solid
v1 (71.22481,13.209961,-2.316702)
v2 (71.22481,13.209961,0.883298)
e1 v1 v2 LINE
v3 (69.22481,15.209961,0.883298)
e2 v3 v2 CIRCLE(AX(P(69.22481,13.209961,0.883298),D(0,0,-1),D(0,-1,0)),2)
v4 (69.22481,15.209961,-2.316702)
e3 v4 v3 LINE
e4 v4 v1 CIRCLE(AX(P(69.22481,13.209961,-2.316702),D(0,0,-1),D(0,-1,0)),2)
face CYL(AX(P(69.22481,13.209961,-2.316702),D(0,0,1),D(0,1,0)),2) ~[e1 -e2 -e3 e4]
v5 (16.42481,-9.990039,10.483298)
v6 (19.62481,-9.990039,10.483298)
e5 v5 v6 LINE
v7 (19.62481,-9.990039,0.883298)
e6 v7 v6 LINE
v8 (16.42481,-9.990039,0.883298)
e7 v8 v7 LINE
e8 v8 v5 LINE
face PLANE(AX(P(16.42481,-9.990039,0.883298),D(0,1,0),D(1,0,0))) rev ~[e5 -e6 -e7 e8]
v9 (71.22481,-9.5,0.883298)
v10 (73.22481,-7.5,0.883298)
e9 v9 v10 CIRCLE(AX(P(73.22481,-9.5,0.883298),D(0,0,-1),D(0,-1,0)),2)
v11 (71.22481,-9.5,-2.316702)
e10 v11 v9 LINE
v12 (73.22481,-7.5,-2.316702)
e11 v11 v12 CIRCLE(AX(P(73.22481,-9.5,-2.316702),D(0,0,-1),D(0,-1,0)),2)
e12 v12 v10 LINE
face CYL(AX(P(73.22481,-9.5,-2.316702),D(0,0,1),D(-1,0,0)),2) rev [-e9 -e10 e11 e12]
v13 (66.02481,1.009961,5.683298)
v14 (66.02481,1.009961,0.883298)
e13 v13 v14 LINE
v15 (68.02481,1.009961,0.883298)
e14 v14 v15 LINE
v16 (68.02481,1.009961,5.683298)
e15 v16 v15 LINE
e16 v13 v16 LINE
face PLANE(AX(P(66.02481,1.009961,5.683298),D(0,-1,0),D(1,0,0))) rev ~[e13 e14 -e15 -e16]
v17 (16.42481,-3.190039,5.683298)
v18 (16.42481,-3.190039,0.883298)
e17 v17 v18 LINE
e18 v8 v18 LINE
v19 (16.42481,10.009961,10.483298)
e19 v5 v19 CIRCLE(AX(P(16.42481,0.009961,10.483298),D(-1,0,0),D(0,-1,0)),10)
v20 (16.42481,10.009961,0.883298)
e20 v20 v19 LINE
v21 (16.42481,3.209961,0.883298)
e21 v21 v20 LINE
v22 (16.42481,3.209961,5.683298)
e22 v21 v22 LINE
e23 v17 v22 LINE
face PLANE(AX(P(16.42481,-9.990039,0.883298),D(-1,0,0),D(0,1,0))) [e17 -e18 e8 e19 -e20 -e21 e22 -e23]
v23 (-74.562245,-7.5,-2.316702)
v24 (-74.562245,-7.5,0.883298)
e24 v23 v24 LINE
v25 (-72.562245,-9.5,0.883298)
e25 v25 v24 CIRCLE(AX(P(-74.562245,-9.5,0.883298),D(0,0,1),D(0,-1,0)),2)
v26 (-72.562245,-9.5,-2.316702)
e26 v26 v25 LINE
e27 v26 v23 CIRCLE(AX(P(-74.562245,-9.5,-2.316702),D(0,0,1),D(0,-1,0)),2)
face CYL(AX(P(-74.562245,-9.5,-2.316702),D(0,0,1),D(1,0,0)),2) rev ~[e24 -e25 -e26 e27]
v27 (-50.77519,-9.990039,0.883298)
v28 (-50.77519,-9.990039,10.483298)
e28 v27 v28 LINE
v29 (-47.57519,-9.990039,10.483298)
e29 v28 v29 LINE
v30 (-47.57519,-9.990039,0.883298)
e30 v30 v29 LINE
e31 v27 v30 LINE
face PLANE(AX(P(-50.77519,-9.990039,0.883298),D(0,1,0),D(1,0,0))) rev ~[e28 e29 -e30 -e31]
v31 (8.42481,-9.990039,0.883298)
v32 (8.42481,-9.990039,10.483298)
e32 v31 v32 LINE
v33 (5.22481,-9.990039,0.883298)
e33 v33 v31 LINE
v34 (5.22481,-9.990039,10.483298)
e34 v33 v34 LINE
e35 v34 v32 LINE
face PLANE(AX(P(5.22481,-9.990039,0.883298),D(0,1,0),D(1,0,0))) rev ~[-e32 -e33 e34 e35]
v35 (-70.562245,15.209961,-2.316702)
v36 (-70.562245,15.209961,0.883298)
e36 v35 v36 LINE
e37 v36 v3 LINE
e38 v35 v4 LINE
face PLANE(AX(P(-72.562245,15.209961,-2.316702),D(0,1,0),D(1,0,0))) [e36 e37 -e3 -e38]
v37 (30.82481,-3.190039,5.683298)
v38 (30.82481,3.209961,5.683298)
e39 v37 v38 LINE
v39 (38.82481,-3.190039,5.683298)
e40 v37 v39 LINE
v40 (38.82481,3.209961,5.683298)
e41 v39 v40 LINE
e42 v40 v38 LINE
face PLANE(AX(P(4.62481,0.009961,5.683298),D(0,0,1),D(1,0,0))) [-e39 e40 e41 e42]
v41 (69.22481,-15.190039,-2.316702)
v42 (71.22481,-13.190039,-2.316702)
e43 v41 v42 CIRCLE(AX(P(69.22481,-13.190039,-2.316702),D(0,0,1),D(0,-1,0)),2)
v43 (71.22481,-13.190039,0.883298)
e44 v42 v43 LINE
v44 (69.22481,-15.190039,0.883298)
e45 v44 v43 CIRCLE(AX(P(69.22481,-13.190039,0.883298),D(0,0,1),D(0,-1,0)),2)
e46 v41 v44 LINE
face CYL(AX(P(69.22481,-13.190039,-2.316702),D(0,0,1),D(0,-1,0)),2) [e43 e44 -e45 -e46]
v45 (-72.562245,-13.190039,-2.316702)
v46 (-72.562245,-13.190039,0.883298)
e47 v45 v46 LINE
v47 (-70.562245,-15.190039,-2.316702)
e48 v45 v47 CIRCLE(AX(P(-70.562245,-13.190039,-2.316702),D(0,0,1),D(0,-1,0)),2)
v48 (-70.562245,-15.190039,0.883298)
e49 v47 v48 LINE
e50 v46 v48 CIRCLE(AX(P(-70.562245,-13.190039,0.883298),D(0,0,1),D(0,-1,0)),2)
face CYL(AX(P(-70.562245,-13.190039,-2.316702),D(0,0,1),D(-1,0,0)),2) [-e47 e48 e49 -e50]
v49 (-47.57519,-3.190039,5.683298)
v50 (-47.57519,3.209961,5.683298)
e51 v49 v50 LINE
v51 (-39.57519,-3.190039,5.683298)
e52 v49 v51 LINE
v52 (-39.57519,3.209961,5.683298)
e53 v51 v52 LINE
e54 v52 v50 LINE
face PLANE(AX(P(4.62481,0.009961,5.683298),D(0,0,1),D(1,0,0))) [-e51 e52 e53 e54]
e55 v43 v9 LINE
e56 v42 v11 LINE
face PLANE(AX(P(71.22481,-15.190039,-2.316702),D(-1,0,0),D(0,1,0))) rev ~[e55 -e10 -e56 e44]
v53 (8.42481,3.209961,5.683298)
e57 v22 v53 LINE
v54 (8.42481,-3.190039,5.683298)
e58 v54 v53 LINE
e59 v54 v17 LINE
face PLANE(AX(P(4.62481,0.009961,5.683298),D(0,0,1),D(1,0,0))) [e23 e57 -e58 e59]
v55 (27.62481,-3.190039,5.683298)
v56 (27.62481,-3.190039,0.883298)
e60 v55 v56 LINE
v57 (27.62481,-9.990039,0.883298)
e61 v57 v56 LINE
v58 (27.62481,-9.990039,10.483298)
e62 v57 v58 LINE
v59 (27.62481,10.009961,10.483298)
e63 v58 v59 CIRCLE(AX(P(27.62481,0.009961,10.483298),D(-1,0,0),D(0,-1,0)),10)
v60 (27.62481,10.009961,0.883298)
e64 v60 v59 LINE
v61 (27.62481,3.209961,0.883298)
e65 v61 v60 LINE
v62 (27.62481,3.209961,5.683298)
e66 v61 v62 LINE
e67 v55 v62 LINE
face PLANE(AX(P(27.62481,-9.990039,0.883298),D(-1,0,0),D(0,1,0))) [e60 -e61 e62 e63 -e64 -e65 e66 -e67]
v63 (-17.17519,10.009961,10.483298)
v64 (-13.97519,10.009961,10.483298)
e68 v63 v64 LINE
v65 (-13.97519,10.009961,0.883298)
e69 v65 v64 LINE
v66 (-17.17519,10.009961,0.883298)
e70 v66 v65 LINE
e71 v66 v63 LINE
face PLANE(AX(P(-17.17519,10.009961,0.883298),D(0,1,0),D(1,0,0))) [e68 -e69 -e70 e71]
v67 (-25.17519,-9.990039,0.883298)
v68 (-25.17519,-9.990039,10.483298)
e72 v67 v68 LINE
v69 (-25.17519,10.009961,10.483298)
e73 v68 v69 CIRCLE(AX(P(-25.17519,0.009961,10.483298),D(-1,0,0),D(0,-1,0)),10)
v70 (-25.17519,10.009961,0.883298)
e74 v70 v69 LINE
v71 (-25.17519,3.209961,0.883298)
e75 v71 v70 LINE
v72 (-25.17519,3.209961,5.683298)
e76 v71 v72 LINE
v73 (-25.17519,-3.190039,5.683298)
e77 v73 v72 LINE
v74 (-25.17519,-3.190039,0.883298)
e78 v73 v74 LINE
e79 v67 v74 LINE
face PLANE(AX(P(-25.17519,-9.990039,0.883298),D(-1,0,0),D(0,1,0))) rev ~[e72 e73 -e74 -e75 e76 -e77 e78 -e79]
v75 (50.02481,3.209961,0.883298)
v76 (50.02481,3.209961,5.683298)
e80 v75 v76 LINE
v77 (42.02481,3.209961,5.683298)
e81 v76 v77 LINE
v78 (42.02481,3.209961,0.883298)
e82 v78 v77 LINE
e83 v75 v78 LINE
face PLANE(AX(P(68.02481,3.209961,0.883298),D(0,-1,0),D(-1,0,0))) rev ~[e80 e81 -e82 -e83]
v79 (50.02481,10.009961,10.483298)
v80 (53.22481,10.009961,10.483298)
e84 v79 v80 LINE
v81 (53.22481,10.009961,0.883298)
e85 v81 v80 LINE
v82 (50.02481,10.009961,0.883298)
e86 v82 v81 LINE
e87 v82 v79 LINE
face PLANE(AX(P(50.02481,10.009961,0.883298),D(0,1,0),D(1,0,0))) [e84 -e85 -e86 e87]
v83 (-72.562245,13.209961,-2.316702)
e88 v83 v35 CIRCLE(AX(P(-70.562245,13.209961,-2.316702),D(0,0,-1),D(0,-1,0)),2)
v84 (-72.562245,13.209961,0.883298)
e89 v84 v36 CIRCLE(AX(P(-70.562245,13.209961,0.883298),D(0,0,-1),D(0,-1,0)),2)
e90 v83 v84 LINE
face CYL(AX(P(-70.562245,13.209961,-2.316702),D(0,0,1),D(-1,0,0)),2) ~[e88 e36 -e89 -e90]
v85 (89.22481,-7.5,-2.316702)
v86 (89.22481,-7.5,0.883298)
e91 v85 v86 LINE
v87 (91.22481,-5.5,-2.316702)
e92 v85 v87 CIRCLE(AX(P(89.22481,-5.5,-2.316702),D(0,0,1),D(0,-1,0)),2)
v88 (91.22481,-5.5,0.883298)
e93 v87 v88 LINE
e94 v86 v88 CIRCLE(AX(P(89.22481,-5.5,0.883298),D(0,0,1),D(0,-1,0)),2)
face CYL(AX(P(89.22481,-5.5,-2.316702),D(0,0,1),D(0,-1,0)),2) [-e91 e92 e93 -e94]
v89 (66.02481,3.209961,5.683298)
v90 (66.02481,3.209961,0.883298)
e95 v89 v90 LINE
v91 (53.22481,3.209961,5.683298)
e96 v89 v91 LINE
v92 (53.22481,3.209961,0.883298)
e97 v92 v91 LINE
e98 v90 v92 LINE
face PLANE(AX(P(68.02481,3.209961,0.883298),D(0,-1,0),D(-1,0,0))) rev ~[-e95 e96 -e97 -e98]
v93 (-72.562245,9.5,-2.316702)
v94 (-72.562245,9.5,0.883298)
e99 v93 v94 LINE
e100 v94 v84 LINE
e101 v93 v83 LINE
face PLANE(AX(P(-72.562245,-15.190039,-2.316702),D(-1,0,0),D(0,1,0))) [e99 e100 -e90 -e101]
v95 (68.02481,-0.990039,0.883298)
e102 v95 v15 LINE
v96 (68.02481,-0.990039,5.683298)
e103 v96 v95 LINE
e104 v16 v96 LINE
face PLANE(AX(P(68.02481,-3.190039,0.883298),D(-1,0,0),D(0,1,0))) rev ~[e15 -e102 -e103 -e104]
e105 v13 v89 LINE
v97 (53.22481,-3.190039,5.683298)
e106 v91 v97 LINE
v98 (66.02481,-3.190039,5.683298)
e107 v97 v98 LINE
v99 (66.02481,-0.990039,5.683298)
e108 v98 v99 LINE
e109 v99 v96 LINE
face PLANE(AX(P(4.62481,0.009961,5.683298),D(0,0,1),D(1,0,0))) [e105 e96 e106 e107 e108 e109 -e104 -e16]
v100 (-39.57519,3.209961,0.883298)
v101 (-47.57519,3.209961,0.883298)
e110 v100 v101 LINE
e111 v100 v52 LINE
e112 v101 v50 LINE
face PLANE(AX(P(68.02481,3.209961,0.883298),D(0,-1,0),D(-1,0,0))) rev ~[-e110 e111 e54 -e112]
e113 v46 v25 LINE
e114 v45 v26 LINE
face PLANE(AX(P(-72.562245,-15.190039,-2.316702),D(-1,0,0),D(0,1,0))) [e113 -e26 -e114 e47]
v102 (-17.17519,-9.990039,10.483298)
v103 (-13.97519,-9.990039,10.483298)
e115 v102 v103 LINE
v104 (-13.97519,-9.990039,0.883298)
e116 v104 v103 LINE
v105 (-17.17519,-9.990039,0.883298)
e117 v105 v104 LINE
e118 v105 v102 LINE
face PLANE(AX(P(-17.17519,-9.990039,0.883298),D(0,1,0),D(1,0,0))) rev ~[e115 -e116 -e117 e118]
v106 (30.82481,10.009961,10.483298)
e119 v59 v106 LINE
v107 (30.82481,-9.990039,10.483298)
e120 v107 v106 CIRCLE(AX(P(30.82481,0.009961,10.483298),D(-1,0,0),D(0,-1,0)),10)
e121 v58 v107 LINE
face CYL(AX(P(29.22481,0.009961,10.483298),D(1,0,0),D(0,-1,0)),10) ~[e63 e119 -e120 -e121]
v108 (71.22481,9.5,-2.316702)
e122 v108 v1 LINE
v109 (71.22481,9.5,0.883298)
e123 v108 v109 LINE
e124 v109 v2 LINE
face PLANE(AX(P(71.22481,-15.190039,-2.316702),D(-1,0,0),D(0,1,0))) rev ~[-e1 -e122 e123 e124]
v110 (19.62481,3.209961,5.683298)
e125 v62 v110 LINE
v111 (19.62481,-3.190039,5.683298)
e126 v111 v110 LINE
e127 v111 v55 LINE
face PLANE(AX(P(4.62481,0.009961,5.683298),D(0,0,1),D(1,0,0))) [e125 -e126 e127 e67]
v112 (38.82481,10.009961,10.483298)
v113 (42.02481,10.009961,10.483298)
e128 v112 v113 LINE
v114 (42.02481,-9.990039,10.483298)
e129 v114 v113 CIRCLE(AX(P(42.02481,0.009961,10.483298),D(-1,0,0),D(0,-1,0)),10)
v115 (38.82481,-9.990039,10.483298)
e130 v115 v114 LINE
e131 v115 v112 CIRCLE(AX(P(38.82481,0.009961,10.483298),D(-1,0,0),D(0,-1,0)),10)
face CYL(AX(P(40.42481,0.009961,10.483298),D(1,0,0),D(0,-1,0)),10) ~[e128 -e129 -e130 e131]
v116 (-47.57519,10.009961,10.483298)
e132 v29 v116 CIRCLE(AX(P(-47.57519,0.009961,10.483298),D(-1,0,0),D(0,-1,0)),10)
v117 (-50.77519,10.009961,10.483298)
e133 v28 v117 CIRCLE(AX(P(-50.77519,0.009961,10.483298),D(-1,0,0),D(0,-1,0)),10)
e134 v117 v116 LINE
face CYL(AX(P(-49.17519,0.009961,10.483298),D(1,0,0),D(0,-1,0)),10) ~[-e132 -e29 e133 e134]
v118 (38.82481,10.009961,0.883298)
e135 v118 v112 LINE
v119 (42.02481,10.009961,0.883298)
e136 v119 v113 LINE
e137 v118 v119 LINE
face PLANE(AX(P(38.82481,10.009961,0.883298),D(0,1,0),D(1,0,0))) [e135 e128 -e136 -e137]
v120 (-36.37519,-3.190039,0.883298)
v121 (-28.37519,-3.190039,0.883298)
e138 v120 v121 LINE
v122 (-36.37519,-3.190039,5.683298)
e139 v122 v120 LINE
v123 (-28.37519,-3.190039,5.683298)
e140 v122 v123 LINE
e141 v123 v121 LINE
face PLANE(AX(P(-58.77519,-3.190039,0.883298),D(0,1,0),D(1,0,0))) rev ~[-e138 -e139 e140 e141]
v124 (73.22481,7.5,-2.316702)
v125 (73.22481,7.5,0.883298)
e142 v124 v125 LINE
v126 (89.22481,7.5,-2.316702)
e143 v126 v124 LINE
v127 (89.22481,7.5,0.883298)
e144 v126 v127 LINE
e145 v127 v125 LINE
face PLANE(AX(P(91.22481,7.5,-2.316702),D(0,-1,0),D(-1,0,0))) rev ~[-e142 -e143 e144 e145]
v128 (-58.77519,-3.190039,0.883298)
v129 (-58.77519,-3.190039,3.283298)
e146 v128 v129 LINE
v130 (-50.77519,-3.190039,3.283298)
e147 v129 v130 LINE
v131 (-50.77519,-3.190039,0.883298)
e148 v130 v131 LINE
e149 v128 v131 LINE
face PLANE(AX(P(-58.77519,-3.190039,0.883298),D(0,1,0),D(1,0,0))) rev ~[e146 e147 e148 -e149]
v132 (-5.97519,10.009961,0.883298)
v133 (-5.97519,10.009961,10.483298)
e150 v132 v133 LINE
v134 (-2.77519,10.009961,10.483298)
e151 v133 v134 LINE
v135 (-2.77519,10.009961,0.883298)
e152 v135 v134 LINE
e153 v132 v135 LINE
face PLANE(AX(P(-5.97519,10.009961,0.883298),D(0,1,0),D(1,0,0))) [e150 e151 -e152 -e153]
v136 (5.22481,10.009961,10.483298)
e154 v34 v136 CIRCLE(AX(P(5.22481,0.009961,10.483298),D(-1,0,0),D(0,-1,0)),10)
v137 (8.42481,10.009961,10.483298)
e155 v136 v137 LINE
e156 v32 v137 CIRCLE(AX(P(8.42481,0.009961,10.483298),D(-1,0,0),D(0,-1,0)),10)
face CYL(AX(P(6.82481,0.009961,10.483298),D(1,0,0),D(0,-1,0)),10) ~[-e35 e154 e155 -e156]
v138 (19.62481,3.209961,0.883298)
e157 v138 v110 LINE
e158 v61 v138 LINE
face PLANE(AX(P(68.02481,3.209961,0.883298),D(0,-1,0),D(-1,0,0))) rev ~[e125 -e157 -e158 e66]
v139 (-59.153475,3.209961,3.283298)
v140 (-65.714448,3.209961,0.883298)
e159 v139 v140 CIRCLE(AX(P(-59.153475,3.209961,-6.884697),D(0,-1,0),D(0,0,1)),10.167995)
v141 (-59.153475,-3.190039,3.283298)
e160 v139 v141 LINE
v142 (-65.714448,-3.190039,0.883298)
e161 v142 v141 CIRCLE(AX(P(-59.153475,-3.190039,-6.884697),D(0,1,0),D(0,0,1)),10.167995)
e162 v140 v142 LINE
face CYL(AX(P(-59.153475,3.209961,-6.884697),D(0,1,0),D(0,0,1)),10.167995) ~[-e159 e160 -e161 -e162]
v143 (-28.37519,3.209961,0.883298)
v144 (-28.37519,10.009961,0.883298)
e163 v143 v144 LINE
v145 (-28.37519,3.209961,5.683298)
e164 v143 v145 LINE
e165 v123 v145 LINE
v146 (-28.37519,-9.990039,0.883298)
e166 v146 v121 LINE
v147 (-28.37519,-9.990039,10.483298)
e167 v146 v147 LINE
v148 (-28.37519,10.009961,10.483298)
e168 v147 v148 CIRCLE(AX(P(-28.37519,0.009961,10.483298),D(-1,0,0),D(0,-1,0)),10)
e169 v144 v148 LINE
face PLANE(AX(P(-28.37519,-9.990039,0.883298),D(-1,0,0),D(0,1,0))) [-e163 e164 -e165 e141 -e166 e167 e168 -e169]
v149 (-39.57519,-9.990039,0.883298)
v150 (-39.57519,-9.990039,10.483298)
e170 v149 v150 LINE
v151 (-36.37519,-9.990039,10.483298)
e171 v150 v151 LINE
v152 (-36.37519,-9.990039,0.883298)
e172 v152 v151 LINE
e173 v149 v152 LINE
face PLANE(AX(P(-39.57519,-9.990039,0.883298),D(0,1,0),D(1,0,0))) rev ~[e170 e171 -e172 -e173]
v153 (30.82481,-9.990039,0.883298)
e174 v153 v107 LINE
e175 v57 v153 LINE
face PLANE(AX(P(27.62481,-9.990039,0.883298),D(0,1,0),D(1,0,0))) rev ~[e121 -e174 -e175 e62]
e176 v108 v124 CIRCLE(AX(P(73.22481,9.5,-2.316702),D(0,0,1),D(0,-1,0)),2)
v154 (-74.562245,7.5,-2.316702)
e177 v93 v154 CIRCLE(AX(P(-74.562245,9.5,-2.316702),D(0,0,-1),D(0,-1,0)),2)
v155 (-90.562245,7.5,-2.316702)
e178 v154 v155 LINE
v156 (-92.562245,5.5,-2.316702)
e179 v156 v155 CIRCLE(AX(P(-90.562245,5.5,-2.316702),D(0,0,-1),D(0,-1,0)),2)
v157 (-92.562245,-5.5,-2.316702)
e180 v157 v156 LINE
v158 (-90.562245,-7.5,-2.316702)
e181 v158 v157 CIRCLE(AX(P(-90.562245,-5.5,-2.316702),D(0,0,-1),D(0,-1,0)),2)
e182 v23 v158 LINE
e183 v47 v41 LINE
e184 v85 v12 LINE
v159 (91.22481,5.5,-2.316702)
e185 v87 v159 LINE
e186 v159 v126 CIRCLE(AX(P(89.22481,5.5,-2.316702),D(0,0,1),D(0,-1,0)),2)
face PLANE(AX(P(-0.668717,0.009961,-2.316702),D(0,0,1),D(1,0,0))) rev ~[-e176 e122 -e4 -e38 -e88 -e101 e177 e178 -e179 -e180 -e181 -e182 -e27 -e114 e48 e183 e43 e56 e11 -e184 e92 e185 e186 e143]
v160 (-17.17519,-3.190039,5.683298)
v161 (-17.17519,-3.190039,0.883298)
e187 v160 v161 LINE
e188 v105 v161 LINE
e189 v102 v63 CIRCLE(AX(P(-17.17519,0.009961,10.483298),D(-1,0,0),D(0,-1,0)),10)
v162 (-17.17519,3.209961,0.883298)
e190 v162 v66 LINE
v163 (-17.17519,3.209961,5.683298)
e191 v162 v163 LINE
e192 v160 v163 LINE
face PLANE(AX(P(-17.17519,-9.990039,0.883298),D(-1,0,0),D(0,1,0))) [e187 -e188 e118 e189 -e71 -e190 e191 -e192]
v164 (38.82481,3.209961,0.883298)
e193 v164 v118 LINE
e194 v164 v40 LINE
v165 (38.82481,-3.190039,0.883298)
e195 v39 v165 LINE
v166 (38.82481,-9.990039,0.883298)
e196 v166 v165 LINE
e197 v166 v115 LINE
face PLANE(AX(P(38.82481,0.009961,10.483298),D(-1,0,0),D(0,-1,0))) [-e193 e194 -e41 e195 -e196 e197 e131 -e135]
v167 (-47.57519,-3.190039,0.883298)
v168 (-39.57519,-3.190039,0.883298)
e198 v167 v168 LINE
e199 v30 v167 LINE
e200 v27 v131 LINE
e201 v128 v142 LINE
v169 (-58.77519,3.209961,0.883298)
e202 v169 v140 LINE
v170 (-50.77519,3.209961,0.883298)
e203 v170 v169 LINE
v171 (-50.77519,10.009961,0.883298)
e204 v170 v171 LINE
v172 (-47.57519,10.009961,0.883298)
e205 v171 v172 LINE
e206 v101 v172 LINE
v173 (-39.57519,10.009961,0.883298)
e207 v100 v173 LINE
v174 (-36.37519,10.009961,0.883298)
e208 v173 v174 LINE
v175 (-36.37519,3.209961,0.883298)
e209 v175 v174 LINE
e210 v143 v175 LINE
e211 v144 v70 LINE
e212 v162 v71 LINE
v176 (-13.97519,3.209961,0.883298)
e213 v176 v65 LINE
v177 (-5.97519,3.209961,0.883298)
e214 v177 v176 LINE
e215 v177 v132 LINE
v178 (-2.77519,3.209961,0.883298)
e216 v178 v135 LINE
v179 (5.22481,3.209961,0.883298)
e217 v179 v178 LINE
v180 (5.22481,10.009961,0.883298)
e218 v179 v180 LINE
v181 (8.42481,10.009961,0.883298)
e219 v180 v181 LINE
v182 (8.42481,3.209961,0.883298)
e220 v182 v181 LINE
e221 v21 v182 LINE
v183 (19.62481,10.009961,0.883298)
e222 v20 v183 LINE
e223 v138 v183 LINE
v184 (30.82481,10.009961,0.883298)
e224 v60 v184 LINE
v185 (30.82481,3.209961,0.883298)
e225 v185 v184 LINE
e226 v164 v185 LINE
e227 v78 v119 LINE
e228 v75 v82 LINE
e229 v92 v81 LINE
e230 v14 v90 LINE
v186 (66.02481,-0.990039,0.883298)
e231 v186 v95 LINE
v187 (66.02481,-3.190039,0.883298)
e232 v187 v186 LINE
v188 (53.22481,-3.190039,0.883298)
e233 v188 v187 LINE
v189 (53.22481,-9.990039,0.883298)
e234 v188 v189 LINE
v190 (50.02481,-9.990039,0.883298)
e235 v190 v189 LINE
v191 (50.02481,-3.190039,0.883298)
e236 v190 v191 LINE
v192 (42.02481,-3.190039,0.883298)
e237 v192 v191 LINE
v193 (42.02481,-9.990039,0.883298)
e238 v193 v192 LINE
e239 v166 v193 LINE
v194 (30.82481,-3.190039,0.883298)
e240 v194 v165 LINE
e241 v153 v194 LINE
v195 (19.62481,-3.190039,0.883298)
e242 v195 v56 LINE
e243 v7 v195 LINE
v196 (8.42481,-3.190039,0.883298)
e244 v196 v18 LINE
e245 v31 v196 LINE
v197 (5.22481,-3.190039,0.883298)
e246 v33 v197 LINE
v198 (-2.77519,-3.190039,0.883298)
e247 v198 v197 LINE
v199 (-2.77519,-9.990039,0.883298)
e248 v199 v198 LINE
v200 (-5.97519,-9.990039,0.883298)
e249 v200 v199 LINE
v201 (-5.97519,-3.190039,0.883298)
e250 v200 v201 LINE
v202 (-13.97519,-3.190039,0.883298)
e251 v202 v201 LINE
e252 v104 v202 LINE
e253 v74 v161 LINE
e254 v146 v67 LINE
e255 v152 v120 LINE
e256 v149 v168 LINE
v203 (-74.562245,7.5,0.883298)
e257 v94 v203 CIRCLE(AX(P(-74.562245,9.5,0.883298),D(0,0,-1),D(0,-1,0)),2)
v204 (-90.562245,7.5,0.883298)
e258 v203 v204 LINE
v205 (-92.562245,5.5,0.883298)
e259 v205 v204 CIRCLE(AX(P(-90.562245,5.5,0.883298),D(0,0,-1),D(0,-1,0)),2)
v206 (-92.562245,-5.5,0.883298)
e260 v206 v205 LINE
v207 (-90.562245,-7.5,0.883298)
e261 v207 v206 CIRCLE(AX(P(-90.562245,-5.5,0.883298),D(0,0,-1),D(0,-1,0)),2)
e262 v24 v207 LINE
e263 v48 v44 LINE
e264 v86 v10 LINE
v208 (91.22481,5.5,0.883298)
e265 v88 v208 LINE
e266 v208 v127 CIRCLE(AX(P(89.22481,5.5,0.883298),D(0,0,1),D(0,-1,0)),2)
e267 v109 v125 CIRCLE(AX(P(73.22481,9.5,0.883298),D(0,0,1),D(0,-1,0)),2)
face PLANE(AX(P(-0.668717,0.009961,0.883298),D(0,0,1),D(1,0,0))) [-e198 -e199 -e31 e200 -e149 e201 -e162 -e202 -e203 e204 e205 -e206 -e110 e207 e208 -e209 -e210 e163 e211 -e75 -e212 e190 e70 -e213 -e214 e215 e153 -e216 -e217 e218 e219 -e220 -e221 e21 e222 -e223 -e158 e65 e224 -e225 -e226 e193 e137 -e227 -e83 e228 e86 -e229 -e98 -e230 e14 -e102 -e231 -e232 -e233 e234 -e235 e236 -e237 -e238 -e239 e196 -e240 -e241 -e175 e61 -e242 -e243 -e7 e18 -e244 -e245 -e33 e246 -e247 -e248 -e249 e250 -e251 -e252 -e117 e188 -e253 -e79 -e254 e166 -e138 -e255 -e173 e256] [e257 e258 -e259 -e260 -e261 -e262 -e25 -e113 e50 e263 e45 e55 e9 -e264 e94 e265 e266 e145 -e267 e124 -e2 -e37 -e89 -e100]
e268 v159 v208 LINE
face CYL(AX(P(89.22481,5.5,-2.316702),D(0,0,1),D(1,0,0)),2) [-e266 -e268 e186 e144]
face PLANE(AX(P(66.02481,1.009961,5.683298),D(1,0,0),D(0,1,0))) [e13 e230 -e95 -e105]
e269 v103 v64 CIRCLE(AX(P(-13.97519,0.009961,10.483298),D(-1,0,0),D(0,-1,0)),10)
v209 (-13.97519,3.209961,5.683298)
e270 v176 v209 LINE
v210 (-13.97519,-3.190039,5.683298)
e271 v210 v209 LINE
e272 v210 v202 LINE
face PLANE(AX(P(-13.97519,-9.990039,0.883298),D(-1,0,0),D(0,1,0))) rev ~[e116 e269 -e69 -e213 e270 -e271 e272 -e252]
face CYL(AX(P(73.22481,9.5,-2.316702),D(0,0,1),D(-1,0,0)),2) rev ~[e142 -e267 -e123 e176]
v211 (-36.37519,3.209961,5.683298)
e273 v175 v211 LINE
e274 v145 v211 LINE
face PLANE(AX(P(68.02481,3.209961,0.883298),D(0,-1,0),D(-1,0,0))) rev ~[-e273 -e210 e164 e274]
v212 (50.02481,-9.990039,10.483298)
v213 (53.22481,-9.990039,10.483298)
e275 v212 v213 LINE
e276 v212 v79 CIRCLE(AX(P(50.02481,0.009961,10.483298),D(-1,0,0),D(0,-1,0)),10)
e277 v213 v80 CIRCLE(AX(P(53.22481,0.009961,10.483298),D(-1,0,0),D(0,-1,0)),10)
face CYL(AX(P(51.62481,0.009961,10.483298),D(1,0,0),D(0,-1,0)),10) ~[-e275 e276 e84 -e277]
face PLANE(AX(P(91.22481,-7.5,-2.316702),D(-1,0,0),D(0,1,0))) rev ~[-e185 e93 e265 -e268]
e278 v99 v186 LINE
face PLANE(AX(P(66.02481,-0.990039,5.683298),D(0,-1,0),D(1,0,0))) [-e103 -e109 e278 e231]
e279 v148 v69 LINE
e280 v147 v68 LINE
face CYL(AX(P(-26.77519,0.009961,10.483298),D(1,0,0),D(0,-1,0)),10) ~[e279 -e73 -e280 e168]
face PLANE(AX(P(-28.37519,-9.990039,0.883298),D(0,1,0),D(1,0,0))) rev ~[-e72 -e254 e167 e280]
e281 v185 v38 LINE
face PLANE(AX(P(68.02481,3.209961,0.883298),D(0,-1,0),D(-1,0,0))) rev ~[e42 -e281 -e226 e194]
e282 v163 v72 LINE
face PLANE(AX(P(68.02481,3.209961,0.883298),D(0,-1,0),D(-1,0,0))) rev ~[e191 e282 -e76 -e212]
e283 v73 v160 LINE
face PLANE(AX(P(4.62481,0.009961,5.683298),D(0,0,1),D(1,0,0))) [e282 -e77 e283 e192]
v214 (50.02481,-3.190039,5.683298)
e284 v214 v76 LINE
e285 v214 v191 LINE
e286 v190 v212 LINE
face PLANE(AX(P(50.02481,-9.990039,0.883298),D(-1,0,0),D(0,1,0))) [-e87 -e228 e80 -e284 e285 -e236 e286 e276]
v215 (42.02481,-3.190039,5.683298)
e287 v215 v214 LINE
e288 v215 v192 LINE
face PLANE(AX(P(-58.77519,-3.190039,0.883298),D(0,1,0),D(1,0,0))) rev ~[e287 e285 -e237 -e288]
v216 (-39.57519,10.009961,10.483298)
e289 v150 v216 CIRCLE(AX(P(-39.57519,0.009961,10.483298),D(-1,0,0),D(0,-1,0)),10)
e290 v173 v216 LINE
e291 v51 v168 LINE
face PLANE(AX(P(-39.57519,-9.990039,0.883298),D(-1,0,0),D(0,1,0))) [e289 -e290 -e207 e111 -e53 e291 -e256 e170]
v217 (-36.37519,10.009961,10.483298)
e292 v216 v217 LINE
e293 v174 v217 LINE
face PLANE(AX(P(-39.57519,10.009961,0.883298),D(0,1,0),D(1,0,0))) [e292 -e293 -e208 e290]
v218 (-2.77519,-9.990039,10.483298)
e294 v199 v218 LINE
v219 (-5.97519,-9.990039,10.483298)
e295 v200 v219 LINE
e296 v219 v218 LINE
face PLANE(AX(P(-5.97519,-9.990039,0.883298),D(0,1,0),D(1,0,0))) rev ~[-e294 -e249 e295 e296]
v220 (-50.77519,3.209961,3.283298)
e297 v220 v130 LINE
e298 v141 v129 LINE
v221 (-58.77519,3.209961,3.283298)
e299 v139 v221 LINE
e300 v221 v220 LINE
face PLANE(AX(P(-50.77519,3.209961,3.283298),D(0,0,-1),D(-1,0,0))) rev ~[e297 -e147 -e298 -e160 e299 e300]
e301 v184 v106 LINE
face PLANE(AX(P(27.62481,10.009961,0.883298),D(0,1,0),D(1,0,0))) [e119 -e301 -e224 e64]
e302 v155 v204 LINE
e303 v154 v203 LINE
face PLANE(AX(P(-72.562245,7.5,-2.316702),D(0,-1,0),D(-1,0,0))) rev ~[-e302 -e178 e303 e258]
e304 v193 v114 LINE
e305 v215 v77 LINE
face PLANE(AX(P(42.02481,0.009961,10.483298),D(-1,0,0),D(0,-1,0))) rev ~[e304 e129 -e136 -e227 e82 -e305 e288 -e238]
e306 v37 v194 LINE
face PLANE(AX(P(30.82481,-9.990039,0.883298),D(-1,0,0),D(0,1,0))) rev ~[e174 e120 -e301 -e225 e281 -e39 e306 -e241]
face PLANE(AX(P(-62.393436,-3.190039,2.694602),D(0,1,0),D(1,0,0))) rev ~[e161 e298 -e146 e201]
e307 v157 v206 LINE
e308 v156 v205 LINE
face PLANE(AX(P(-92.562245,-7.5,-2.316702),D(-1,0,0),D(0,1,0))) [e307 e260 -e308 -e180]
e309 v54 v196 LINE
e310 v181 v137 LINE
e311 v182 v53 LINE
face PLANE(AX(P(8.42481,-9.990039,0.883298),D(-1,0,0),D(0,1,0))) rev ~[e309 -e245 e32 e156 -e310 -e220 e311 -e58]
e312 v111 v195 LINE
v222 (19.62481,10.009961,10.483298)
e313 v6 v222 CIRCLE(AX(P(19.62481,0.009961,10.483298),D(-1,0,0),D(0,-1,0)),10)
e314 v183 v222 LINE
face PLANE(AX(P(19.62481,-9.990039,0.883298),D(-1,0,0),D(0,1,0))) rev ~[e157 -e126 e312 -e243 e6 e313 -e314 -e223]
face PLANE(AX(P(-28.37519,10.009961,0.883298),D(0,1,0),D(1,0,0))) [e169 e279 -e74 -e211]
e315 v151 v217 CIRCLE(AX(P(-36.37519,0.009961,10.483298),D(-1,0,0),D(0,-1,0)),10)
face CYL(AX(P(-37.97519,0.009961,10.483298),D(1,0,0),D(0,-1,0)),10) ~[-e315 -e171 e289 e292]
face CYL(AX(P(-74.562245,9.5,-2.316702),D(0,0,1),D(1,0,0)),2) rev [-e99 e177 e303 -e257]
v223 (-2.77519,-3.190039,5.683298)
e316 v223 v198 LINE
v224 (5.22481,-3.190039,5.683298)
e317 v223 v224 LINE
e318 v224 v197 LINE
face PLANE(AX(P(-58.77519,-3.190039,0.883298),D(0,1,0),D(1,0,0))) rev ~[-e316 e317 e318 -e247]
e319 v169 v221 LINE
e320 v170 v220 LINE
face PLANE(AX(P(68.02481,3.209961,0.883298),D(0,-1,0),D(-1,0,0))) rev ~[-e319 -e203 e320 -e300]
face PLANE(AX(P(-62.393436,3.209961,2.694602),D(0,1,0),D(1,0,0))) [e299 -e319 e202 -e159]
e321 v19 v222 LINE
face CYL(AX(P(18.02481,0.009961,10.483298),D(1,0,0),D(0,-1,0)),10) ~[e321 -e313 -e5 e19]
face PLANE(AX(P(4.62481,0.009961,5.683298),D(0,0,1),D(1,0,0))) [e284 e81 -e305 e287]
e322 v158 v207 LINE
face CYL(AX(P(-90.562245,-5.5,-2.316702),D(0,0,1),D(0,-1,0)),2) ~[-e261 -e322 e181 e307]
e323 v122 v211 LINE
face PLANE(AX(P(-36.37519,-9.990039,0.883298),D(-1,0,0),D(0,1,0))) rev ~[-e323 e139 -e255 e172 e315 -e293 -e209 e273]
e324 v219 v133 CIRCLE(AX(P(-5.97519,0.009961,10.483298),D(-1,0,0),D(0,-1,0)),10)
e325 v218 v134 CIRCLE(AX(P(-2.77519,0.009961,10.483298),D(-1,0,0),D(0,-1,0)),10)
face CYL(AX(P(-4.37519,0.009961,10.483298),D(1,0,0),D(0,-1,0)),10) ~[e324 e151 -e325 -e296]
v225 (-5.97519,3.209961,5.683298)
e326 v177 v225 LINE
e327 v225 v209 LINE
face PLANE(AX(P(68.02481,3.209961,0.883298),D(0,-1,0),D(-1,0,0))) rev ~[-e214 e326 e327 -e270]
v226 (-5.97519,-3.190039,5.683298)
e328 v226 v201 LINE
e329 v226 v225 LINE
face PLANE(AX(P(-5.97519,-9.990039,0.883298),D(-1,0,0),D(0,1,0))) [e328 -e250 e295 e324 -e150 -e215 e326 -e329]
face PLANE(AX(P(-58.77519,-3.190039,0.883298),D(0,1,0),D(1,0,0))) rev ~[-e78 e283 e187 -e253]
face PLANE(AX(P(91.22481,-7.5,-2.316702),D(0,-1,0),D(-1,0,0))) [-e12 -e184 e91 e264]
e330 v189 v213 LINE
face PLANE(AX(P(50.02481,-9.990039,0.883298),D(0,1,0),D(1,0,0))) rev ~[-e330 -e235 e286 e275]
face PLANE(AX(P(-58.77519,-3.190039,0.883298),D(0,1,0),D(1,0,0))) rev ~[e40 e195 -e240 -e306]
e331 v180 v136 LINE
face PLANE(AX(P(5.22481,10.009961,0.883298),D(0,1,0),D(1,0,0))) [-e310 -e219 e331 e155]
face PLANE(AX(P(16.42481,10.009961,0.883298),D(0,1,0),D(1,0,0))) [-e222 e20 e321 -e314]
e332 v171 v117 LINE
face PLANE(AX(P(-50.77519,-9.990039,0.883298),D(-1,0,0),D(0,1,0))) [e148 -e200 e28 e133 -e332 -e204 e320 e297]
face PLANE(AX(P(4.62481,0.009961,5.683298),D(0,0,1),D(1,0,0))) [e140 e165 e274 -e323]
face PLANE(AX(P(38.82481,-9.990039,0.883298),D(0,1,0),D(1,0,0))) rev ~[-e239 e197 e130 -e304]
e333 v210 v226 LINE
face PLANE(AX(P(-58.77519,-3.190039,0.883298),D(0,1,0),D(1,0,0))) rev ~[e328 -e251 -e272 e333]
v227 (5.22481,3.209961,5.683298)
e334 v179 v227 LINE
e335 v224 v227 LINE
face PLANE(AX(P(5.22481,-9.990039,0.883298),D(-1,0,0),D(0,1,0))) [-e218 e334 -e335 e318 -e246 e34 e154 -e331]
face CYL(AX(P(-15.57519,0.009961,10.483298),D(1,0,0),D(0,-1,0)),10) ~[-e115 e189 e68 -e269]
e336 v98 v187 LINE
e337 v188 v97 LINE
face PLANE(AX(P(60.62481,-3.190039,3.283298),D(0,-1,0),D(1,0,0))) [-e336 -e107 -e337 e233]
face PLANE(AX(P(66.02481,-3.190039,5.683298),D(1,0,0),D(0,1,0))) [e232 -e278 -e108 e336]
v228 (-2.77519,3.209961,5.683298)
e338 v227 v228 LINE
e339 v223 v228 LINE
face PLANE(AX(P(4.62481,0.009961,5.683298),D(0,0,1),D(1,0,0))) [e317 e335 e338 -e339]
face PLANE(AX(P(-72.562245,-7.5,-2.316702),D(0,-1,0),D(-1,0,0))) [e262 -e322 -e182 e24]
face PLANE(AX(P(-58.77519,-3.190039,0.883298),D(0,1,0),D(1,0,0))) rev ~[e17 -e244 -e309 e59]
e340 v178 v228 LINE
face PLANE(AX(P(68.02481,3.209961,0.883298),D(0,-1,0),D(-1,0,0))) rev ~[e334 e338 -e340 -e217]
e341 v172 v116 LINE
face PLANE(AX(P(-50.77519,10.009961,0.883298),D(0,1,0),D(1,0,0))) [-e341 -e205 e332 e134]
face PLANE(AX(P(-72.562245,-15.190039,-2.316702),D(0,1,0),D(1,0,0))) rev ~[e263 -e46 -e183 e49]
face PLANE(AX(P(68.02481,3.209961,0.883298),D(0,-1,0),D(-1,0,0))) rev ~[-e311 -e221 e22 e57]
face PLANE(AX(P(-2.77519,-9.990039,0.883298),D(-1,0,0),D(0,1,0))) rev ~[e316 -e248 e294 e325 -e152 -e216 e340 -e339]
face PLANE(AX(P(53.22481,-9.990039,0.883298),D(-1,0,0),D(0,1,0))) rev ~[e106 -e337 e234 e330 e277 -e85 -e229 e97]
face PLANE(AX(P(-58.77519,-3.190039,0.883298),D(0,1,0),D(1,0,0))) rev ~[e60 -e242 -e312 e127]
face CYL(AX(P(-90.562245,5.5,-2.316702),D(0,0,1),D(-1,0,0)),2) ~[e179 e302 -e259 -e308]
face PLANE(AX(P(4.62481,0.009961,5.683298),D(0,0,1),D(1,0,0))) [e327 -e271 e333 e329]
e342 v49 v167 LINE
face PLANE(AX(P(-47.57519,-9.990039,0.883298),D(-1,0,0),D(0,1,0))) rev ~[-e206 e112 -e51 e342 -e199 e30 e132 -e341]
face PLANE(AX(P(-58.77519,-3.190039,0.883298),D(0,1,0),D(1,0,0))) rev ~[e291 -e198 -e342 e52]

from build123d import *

# Parameters (mm, degrees)
SKETCH_1_W           = 89.86690944
SKETCH_1_H           = 19
EXTRUDE_1_DEPTH      = 2
SKETCH_2_W           = 2
SKETCH_2_H           = 12.5
EXTRUDE_2_DEPTH      = 6
EXTRUDE_3_DEPTH      = 3
SKETCH_4_W           = 2
SKETCH_4_H           = 6.25
REVOLVE_1_ANGLE      = 180
EXTRUDE_8_DEPTH      = 1.5
EXTRUDE_8_DEPTH_BACK = 3.5
SKETCH_11_W          = 9.25
SKETCH_11_H          = 3
SCALE_1_SCALE        = 1.6
CUT_EXTRUDE_START    = -2.4
SKETCH_13_W          = 14.8
SKETCH_13_H          = 4.8
CUT_EXTRUDE_3_DEPTH  = 2.4
SKETCH_16_W          = 2
SKETCH_16_H          = 2.2
CUT_EXTRUDE_5_DEPTH  = 4.8
EXTRUDE_START        = -3.190039
EXTRUDE_10_DEPTH     = 6.4
CUT_EXTRUDE_6_REACH  = 79.611
FILLET_1_R           = 2
SKETCH_19_W          = 20
SKETCH_19_H          = 15
EXTRUDE_11_DEPTH     = 3.2
FILLET_2_R           = 2


with BuildPart() as part:
    # 草图1 → 凸台-拉伸1 (new body)
    with BuildSketch(Plane.XY):
        Rectangle(SKETCH_1_W, SKETCH_1_H)
    extrude(amount=EXTRUDE_1_DEPTH)

    # 草图2 → 凸台-拉伸2 (add)
    with BuildSketch(Plane.XY.offset(2)):
        with Locations((32.68345472, 0)):
            Rectangle(SKETCH_2_W, SKETCH_2_H)
        with Locations((25.68345472, 0)):
            Rectangle(SKETCH_2_W, SKETCH_2_H)
        with Locations((18.68345472, 0)):
            Rectangle(SKETCH_2_W, SKETCH_2_H)
        with Locations((11.68345472, 0)):
            Rectangle(SKETCH_2_W, SKETCH_2_H)
        with Locations((4.68345472, 0)):
            Rectangle(SKETCH_2_W, SKETCH_2_H)
        with Locations((-2.31654528, 0)):
            Rectangle(SKETCH_2_W, SKETCH_2_H)
        with Locations((-9.31654528, 0)):
            Rectangle(SKETCH_2_W, SKETCH_2_H)
        with Locations((-16.31654528, 0)):
            Rectangle(SKETCH_2_W, SKETCH_2_H)
        with Locations((-23.31654528, 0)):
            Rectangle(SKETCH_2_W, SKETCH_2_H)
        with Locations((-30.31654528, 0)):
            Rectangle(SKETCH_2_W, SKETCH_2_H)
    extrude(amount=EXTRUDE_2_DEPTH)

    # 草图3 → 凸台-拉伸3 (add)
    with BuildSketch(Plane.XY.offset(2)):
        Polygon((-29.31654528, -2), (42.93345472, -2), (42.93345472, 2), (-36.31654528, 2), (-36.31654528, -2), align=None)
    extrude(amount=EXTRUDE_3_DEPTH)

    # 草图4 → 旋转1 (revolve)
    with BuildSketch(Plane.XY.offset(8)):
        with Locations((25.68345472, -3.125)):
            Rectangle(SKETCH_4_W, SKETCH_4_H)
        with Locations((32.68345472, -3.125)):
            Rectangle(SKETCH_4_W, SKETCH_4_H)
        with Locations((18.68345472, -3.125)):
            Rectangle(SKETCH_4_W, SKETCH_4_H)
        with Locations((11.68345472, -3.125)):
            Rectangle(SKETCH_4_W, SKETCH_4_H)
        with Locations((4.68345472, -3.125)):
            Rectangle(SKETCH_4_W, SKETCH_4_H)
        with Locations((-2.31654528, -3.125)):
            Rectangle(SKETCH_4_W, SKETCH_4_H)
        with Locations((-9.31654528, -3.125)):
            Rectangle(SKETCH_4_W, SKETCH_4_H)
        with Locations((-16.31654528, -3.125)):
            Rectangle(SKETCH_4_W, SKETCH_4_H)
        with Locations((-23.31654528, -3.125)):
            Rectangle(SKETCH_4_W, SKETCH_4_H)
        with Locations((-30.31654528, -3.125)):
            Rectangle(SKETCH_4_W, SKETCH_4_H)
    revolve(axis=Axis((-31.31654528, 0, 8), (-1, 0, 0)), revolution_arc=REVOLVE_1_ANGLE)

    # 草图11 → 凸台-拉伸8 (add, two sides: drawn at the far end of the back side and taken through both)
    with BuildSketch(Plane.XZ.offset(2).offset(-EXTRUDE_8_DEPTH_BACK)):
        with Locations((38.30845472, 3.5)):
            Rectangle(SKETCH_11_W, SKETCH_11_H)
    extrude(amount=EXTRUDE_8_DEPTH + EXTRUDE_8_DEPTH_BACK)


with BuildPart() as part_1:
    # 缩放比例1: scaled about (1.114528854, -0.016602301, 3.861170743)
    add(part.part.scale(SCALE_1_SCALE).moved(Location((-0.668717312, 0.009961381, -2.316702446))))

    # 草图13 → 切除-拉伸3 (cut)
    with BuildSketch(Plane.XZ.offset(5.59003862).offset(CUT_EXTRUDE_START)):
        with Locations((60.62481024, 3.283297554)):
            Rectangle(SKETCH_13_W, SKETCH_13_H)
    extrude(amount=CUT_EXTRUDE_3_DEPTH, mode=Mode.SUBTRACT)

    # 草图16 → 切除-拉伸5 (cut)
    with BuildSketch(Plane.XY.offset(5.683297554)):
        with Locations((67.02481024, -2.09003862)):
            Rectangle(SKETCH_16_W, SKETCH_16_H)
        with Locations((67.02481024, 2.10996138)):
            Rectangle(SKETCH_16_W, SKETCH_16_H)
    extrude(amount=-CUT_EXTRUDE_5_DEPTH, mode=Mode.SUBTRACT)

    # 草图17 → 凸台-拉伸10 (add)
    with BuildSketch(Plane(origin=(0, 0, 0), x_dir=(1, 0, 0), z_dir=(0, 1, 0)).offset(EXTRUDE_START)):
        with BuildLine():
            Line((-58.77518976, -5.683297554), (-58.77518976, -0.883297554))
            Line((-58.77518976, -0.883297554), (-67.445131169, -0.883297554))
            ThreePointArc((-67.445131169, -0.883297554), (-63.730184312, -4.40320806), (-58.77518976, -5.683297554))
        make_face()
    extrude(amount=EXTRUDE_10_DEPTH)

    # 草图18 → 切除-拉伸6 (cut, up to next)
    with BuildSketch(Plane(origin=(0, 3.20996138, 0), x_dir=(1, 0, 0), z_dir=(0, 1, 0)), mode=Mode.PRIVATE) as cut_extrude_6_sk1:
        with BuildLine():
            Line((-50.77518976, -3.283297554), (-59.153474578, -3.283297554))
            ThreePointArc((-59.153474578, -3.283297554), (-62.646552572, -2.664466304), (-65.714448246, -0.883297554))
            Line((-65.714448246, -0.883297554), (-67.445131169, -0.883297554))
            ThreePointArc((-67.445131169, -0.883297554), (-63.730184312, -4.40320806), (-58.77518976, -5.683297554))
            Line((-58.77518976, -5.683297554), (-50.77518976, -5.683297554))
            Line((-50.77518976, -5.683297554), (-50.77518976, -3.283297554))
        make_face()
    cut_extrude_6_tool1 = extrude(cut_extrude_6_sk1.sketch, amount=-CUT_EXTRUDE_6_REACH, mode=Mode.PRIVATE) & part_1.part
    add(cut_extrude_6_tool1.solids().sort_by_distance((-58.541843, 3.209961, 4.008165))[0], mode=Mode.SUBTRACT)

    # 圆角1
    fillet_1_edges = [part_1.edges().sort_by_distance(p)[0] for p in [
        (71.22481024, -15.190038619, -0.716702446),
        (-72.562244864, -15.190038619, -0.716702446),
        (-72.562244864, 15.209961381, -0.716702446),
        (71.22481024, 15.209961381, -0.716702446),
    ]]
    fillet(fillet_1_edges, radius=FILLET_1_R)

    # 草图19 → 凸台-拉伸11 (add)
    with BuildSketch(Plane(origin=(0, 0, -2.316702446), x_dir=(-1, 0, 0), z_dir=(0, 0, -1))):
        with Locations((-81.22481024, 0)):
            Rectangle(SKETCH_19_W, SKETCH_19_H)
        with Locations((82.562244864, 0)):
            Rectangle(SKETCH_19_W, SKETCH_19_H)
    extrude(amount=-EXTRUDE_11_DEPTH)

    # 圆角2
    fillet_2_edges = [part_1.edges().sort_by_distance(p)[0] for p in [
        (91.22481024, 7.5, -0.716702446),
        (91.22481024, -7.5, -0.716702446),
        (71.22481024, -7.5, -0.716702446),
        (71.22481024, 7.5, -0.716702446),
        (-92.562244864, -7.5, -0.716702446),
        (-92.562244864, 7.5, -0.716702446),
        (-72.562244864, 7.5, -0.716702446),
        (-72.562244864, -7.5, -0.716702446),
    ]]
    fillet(fillet_2_edges, radius=FILLET_2_R)


solid = part_1.part
